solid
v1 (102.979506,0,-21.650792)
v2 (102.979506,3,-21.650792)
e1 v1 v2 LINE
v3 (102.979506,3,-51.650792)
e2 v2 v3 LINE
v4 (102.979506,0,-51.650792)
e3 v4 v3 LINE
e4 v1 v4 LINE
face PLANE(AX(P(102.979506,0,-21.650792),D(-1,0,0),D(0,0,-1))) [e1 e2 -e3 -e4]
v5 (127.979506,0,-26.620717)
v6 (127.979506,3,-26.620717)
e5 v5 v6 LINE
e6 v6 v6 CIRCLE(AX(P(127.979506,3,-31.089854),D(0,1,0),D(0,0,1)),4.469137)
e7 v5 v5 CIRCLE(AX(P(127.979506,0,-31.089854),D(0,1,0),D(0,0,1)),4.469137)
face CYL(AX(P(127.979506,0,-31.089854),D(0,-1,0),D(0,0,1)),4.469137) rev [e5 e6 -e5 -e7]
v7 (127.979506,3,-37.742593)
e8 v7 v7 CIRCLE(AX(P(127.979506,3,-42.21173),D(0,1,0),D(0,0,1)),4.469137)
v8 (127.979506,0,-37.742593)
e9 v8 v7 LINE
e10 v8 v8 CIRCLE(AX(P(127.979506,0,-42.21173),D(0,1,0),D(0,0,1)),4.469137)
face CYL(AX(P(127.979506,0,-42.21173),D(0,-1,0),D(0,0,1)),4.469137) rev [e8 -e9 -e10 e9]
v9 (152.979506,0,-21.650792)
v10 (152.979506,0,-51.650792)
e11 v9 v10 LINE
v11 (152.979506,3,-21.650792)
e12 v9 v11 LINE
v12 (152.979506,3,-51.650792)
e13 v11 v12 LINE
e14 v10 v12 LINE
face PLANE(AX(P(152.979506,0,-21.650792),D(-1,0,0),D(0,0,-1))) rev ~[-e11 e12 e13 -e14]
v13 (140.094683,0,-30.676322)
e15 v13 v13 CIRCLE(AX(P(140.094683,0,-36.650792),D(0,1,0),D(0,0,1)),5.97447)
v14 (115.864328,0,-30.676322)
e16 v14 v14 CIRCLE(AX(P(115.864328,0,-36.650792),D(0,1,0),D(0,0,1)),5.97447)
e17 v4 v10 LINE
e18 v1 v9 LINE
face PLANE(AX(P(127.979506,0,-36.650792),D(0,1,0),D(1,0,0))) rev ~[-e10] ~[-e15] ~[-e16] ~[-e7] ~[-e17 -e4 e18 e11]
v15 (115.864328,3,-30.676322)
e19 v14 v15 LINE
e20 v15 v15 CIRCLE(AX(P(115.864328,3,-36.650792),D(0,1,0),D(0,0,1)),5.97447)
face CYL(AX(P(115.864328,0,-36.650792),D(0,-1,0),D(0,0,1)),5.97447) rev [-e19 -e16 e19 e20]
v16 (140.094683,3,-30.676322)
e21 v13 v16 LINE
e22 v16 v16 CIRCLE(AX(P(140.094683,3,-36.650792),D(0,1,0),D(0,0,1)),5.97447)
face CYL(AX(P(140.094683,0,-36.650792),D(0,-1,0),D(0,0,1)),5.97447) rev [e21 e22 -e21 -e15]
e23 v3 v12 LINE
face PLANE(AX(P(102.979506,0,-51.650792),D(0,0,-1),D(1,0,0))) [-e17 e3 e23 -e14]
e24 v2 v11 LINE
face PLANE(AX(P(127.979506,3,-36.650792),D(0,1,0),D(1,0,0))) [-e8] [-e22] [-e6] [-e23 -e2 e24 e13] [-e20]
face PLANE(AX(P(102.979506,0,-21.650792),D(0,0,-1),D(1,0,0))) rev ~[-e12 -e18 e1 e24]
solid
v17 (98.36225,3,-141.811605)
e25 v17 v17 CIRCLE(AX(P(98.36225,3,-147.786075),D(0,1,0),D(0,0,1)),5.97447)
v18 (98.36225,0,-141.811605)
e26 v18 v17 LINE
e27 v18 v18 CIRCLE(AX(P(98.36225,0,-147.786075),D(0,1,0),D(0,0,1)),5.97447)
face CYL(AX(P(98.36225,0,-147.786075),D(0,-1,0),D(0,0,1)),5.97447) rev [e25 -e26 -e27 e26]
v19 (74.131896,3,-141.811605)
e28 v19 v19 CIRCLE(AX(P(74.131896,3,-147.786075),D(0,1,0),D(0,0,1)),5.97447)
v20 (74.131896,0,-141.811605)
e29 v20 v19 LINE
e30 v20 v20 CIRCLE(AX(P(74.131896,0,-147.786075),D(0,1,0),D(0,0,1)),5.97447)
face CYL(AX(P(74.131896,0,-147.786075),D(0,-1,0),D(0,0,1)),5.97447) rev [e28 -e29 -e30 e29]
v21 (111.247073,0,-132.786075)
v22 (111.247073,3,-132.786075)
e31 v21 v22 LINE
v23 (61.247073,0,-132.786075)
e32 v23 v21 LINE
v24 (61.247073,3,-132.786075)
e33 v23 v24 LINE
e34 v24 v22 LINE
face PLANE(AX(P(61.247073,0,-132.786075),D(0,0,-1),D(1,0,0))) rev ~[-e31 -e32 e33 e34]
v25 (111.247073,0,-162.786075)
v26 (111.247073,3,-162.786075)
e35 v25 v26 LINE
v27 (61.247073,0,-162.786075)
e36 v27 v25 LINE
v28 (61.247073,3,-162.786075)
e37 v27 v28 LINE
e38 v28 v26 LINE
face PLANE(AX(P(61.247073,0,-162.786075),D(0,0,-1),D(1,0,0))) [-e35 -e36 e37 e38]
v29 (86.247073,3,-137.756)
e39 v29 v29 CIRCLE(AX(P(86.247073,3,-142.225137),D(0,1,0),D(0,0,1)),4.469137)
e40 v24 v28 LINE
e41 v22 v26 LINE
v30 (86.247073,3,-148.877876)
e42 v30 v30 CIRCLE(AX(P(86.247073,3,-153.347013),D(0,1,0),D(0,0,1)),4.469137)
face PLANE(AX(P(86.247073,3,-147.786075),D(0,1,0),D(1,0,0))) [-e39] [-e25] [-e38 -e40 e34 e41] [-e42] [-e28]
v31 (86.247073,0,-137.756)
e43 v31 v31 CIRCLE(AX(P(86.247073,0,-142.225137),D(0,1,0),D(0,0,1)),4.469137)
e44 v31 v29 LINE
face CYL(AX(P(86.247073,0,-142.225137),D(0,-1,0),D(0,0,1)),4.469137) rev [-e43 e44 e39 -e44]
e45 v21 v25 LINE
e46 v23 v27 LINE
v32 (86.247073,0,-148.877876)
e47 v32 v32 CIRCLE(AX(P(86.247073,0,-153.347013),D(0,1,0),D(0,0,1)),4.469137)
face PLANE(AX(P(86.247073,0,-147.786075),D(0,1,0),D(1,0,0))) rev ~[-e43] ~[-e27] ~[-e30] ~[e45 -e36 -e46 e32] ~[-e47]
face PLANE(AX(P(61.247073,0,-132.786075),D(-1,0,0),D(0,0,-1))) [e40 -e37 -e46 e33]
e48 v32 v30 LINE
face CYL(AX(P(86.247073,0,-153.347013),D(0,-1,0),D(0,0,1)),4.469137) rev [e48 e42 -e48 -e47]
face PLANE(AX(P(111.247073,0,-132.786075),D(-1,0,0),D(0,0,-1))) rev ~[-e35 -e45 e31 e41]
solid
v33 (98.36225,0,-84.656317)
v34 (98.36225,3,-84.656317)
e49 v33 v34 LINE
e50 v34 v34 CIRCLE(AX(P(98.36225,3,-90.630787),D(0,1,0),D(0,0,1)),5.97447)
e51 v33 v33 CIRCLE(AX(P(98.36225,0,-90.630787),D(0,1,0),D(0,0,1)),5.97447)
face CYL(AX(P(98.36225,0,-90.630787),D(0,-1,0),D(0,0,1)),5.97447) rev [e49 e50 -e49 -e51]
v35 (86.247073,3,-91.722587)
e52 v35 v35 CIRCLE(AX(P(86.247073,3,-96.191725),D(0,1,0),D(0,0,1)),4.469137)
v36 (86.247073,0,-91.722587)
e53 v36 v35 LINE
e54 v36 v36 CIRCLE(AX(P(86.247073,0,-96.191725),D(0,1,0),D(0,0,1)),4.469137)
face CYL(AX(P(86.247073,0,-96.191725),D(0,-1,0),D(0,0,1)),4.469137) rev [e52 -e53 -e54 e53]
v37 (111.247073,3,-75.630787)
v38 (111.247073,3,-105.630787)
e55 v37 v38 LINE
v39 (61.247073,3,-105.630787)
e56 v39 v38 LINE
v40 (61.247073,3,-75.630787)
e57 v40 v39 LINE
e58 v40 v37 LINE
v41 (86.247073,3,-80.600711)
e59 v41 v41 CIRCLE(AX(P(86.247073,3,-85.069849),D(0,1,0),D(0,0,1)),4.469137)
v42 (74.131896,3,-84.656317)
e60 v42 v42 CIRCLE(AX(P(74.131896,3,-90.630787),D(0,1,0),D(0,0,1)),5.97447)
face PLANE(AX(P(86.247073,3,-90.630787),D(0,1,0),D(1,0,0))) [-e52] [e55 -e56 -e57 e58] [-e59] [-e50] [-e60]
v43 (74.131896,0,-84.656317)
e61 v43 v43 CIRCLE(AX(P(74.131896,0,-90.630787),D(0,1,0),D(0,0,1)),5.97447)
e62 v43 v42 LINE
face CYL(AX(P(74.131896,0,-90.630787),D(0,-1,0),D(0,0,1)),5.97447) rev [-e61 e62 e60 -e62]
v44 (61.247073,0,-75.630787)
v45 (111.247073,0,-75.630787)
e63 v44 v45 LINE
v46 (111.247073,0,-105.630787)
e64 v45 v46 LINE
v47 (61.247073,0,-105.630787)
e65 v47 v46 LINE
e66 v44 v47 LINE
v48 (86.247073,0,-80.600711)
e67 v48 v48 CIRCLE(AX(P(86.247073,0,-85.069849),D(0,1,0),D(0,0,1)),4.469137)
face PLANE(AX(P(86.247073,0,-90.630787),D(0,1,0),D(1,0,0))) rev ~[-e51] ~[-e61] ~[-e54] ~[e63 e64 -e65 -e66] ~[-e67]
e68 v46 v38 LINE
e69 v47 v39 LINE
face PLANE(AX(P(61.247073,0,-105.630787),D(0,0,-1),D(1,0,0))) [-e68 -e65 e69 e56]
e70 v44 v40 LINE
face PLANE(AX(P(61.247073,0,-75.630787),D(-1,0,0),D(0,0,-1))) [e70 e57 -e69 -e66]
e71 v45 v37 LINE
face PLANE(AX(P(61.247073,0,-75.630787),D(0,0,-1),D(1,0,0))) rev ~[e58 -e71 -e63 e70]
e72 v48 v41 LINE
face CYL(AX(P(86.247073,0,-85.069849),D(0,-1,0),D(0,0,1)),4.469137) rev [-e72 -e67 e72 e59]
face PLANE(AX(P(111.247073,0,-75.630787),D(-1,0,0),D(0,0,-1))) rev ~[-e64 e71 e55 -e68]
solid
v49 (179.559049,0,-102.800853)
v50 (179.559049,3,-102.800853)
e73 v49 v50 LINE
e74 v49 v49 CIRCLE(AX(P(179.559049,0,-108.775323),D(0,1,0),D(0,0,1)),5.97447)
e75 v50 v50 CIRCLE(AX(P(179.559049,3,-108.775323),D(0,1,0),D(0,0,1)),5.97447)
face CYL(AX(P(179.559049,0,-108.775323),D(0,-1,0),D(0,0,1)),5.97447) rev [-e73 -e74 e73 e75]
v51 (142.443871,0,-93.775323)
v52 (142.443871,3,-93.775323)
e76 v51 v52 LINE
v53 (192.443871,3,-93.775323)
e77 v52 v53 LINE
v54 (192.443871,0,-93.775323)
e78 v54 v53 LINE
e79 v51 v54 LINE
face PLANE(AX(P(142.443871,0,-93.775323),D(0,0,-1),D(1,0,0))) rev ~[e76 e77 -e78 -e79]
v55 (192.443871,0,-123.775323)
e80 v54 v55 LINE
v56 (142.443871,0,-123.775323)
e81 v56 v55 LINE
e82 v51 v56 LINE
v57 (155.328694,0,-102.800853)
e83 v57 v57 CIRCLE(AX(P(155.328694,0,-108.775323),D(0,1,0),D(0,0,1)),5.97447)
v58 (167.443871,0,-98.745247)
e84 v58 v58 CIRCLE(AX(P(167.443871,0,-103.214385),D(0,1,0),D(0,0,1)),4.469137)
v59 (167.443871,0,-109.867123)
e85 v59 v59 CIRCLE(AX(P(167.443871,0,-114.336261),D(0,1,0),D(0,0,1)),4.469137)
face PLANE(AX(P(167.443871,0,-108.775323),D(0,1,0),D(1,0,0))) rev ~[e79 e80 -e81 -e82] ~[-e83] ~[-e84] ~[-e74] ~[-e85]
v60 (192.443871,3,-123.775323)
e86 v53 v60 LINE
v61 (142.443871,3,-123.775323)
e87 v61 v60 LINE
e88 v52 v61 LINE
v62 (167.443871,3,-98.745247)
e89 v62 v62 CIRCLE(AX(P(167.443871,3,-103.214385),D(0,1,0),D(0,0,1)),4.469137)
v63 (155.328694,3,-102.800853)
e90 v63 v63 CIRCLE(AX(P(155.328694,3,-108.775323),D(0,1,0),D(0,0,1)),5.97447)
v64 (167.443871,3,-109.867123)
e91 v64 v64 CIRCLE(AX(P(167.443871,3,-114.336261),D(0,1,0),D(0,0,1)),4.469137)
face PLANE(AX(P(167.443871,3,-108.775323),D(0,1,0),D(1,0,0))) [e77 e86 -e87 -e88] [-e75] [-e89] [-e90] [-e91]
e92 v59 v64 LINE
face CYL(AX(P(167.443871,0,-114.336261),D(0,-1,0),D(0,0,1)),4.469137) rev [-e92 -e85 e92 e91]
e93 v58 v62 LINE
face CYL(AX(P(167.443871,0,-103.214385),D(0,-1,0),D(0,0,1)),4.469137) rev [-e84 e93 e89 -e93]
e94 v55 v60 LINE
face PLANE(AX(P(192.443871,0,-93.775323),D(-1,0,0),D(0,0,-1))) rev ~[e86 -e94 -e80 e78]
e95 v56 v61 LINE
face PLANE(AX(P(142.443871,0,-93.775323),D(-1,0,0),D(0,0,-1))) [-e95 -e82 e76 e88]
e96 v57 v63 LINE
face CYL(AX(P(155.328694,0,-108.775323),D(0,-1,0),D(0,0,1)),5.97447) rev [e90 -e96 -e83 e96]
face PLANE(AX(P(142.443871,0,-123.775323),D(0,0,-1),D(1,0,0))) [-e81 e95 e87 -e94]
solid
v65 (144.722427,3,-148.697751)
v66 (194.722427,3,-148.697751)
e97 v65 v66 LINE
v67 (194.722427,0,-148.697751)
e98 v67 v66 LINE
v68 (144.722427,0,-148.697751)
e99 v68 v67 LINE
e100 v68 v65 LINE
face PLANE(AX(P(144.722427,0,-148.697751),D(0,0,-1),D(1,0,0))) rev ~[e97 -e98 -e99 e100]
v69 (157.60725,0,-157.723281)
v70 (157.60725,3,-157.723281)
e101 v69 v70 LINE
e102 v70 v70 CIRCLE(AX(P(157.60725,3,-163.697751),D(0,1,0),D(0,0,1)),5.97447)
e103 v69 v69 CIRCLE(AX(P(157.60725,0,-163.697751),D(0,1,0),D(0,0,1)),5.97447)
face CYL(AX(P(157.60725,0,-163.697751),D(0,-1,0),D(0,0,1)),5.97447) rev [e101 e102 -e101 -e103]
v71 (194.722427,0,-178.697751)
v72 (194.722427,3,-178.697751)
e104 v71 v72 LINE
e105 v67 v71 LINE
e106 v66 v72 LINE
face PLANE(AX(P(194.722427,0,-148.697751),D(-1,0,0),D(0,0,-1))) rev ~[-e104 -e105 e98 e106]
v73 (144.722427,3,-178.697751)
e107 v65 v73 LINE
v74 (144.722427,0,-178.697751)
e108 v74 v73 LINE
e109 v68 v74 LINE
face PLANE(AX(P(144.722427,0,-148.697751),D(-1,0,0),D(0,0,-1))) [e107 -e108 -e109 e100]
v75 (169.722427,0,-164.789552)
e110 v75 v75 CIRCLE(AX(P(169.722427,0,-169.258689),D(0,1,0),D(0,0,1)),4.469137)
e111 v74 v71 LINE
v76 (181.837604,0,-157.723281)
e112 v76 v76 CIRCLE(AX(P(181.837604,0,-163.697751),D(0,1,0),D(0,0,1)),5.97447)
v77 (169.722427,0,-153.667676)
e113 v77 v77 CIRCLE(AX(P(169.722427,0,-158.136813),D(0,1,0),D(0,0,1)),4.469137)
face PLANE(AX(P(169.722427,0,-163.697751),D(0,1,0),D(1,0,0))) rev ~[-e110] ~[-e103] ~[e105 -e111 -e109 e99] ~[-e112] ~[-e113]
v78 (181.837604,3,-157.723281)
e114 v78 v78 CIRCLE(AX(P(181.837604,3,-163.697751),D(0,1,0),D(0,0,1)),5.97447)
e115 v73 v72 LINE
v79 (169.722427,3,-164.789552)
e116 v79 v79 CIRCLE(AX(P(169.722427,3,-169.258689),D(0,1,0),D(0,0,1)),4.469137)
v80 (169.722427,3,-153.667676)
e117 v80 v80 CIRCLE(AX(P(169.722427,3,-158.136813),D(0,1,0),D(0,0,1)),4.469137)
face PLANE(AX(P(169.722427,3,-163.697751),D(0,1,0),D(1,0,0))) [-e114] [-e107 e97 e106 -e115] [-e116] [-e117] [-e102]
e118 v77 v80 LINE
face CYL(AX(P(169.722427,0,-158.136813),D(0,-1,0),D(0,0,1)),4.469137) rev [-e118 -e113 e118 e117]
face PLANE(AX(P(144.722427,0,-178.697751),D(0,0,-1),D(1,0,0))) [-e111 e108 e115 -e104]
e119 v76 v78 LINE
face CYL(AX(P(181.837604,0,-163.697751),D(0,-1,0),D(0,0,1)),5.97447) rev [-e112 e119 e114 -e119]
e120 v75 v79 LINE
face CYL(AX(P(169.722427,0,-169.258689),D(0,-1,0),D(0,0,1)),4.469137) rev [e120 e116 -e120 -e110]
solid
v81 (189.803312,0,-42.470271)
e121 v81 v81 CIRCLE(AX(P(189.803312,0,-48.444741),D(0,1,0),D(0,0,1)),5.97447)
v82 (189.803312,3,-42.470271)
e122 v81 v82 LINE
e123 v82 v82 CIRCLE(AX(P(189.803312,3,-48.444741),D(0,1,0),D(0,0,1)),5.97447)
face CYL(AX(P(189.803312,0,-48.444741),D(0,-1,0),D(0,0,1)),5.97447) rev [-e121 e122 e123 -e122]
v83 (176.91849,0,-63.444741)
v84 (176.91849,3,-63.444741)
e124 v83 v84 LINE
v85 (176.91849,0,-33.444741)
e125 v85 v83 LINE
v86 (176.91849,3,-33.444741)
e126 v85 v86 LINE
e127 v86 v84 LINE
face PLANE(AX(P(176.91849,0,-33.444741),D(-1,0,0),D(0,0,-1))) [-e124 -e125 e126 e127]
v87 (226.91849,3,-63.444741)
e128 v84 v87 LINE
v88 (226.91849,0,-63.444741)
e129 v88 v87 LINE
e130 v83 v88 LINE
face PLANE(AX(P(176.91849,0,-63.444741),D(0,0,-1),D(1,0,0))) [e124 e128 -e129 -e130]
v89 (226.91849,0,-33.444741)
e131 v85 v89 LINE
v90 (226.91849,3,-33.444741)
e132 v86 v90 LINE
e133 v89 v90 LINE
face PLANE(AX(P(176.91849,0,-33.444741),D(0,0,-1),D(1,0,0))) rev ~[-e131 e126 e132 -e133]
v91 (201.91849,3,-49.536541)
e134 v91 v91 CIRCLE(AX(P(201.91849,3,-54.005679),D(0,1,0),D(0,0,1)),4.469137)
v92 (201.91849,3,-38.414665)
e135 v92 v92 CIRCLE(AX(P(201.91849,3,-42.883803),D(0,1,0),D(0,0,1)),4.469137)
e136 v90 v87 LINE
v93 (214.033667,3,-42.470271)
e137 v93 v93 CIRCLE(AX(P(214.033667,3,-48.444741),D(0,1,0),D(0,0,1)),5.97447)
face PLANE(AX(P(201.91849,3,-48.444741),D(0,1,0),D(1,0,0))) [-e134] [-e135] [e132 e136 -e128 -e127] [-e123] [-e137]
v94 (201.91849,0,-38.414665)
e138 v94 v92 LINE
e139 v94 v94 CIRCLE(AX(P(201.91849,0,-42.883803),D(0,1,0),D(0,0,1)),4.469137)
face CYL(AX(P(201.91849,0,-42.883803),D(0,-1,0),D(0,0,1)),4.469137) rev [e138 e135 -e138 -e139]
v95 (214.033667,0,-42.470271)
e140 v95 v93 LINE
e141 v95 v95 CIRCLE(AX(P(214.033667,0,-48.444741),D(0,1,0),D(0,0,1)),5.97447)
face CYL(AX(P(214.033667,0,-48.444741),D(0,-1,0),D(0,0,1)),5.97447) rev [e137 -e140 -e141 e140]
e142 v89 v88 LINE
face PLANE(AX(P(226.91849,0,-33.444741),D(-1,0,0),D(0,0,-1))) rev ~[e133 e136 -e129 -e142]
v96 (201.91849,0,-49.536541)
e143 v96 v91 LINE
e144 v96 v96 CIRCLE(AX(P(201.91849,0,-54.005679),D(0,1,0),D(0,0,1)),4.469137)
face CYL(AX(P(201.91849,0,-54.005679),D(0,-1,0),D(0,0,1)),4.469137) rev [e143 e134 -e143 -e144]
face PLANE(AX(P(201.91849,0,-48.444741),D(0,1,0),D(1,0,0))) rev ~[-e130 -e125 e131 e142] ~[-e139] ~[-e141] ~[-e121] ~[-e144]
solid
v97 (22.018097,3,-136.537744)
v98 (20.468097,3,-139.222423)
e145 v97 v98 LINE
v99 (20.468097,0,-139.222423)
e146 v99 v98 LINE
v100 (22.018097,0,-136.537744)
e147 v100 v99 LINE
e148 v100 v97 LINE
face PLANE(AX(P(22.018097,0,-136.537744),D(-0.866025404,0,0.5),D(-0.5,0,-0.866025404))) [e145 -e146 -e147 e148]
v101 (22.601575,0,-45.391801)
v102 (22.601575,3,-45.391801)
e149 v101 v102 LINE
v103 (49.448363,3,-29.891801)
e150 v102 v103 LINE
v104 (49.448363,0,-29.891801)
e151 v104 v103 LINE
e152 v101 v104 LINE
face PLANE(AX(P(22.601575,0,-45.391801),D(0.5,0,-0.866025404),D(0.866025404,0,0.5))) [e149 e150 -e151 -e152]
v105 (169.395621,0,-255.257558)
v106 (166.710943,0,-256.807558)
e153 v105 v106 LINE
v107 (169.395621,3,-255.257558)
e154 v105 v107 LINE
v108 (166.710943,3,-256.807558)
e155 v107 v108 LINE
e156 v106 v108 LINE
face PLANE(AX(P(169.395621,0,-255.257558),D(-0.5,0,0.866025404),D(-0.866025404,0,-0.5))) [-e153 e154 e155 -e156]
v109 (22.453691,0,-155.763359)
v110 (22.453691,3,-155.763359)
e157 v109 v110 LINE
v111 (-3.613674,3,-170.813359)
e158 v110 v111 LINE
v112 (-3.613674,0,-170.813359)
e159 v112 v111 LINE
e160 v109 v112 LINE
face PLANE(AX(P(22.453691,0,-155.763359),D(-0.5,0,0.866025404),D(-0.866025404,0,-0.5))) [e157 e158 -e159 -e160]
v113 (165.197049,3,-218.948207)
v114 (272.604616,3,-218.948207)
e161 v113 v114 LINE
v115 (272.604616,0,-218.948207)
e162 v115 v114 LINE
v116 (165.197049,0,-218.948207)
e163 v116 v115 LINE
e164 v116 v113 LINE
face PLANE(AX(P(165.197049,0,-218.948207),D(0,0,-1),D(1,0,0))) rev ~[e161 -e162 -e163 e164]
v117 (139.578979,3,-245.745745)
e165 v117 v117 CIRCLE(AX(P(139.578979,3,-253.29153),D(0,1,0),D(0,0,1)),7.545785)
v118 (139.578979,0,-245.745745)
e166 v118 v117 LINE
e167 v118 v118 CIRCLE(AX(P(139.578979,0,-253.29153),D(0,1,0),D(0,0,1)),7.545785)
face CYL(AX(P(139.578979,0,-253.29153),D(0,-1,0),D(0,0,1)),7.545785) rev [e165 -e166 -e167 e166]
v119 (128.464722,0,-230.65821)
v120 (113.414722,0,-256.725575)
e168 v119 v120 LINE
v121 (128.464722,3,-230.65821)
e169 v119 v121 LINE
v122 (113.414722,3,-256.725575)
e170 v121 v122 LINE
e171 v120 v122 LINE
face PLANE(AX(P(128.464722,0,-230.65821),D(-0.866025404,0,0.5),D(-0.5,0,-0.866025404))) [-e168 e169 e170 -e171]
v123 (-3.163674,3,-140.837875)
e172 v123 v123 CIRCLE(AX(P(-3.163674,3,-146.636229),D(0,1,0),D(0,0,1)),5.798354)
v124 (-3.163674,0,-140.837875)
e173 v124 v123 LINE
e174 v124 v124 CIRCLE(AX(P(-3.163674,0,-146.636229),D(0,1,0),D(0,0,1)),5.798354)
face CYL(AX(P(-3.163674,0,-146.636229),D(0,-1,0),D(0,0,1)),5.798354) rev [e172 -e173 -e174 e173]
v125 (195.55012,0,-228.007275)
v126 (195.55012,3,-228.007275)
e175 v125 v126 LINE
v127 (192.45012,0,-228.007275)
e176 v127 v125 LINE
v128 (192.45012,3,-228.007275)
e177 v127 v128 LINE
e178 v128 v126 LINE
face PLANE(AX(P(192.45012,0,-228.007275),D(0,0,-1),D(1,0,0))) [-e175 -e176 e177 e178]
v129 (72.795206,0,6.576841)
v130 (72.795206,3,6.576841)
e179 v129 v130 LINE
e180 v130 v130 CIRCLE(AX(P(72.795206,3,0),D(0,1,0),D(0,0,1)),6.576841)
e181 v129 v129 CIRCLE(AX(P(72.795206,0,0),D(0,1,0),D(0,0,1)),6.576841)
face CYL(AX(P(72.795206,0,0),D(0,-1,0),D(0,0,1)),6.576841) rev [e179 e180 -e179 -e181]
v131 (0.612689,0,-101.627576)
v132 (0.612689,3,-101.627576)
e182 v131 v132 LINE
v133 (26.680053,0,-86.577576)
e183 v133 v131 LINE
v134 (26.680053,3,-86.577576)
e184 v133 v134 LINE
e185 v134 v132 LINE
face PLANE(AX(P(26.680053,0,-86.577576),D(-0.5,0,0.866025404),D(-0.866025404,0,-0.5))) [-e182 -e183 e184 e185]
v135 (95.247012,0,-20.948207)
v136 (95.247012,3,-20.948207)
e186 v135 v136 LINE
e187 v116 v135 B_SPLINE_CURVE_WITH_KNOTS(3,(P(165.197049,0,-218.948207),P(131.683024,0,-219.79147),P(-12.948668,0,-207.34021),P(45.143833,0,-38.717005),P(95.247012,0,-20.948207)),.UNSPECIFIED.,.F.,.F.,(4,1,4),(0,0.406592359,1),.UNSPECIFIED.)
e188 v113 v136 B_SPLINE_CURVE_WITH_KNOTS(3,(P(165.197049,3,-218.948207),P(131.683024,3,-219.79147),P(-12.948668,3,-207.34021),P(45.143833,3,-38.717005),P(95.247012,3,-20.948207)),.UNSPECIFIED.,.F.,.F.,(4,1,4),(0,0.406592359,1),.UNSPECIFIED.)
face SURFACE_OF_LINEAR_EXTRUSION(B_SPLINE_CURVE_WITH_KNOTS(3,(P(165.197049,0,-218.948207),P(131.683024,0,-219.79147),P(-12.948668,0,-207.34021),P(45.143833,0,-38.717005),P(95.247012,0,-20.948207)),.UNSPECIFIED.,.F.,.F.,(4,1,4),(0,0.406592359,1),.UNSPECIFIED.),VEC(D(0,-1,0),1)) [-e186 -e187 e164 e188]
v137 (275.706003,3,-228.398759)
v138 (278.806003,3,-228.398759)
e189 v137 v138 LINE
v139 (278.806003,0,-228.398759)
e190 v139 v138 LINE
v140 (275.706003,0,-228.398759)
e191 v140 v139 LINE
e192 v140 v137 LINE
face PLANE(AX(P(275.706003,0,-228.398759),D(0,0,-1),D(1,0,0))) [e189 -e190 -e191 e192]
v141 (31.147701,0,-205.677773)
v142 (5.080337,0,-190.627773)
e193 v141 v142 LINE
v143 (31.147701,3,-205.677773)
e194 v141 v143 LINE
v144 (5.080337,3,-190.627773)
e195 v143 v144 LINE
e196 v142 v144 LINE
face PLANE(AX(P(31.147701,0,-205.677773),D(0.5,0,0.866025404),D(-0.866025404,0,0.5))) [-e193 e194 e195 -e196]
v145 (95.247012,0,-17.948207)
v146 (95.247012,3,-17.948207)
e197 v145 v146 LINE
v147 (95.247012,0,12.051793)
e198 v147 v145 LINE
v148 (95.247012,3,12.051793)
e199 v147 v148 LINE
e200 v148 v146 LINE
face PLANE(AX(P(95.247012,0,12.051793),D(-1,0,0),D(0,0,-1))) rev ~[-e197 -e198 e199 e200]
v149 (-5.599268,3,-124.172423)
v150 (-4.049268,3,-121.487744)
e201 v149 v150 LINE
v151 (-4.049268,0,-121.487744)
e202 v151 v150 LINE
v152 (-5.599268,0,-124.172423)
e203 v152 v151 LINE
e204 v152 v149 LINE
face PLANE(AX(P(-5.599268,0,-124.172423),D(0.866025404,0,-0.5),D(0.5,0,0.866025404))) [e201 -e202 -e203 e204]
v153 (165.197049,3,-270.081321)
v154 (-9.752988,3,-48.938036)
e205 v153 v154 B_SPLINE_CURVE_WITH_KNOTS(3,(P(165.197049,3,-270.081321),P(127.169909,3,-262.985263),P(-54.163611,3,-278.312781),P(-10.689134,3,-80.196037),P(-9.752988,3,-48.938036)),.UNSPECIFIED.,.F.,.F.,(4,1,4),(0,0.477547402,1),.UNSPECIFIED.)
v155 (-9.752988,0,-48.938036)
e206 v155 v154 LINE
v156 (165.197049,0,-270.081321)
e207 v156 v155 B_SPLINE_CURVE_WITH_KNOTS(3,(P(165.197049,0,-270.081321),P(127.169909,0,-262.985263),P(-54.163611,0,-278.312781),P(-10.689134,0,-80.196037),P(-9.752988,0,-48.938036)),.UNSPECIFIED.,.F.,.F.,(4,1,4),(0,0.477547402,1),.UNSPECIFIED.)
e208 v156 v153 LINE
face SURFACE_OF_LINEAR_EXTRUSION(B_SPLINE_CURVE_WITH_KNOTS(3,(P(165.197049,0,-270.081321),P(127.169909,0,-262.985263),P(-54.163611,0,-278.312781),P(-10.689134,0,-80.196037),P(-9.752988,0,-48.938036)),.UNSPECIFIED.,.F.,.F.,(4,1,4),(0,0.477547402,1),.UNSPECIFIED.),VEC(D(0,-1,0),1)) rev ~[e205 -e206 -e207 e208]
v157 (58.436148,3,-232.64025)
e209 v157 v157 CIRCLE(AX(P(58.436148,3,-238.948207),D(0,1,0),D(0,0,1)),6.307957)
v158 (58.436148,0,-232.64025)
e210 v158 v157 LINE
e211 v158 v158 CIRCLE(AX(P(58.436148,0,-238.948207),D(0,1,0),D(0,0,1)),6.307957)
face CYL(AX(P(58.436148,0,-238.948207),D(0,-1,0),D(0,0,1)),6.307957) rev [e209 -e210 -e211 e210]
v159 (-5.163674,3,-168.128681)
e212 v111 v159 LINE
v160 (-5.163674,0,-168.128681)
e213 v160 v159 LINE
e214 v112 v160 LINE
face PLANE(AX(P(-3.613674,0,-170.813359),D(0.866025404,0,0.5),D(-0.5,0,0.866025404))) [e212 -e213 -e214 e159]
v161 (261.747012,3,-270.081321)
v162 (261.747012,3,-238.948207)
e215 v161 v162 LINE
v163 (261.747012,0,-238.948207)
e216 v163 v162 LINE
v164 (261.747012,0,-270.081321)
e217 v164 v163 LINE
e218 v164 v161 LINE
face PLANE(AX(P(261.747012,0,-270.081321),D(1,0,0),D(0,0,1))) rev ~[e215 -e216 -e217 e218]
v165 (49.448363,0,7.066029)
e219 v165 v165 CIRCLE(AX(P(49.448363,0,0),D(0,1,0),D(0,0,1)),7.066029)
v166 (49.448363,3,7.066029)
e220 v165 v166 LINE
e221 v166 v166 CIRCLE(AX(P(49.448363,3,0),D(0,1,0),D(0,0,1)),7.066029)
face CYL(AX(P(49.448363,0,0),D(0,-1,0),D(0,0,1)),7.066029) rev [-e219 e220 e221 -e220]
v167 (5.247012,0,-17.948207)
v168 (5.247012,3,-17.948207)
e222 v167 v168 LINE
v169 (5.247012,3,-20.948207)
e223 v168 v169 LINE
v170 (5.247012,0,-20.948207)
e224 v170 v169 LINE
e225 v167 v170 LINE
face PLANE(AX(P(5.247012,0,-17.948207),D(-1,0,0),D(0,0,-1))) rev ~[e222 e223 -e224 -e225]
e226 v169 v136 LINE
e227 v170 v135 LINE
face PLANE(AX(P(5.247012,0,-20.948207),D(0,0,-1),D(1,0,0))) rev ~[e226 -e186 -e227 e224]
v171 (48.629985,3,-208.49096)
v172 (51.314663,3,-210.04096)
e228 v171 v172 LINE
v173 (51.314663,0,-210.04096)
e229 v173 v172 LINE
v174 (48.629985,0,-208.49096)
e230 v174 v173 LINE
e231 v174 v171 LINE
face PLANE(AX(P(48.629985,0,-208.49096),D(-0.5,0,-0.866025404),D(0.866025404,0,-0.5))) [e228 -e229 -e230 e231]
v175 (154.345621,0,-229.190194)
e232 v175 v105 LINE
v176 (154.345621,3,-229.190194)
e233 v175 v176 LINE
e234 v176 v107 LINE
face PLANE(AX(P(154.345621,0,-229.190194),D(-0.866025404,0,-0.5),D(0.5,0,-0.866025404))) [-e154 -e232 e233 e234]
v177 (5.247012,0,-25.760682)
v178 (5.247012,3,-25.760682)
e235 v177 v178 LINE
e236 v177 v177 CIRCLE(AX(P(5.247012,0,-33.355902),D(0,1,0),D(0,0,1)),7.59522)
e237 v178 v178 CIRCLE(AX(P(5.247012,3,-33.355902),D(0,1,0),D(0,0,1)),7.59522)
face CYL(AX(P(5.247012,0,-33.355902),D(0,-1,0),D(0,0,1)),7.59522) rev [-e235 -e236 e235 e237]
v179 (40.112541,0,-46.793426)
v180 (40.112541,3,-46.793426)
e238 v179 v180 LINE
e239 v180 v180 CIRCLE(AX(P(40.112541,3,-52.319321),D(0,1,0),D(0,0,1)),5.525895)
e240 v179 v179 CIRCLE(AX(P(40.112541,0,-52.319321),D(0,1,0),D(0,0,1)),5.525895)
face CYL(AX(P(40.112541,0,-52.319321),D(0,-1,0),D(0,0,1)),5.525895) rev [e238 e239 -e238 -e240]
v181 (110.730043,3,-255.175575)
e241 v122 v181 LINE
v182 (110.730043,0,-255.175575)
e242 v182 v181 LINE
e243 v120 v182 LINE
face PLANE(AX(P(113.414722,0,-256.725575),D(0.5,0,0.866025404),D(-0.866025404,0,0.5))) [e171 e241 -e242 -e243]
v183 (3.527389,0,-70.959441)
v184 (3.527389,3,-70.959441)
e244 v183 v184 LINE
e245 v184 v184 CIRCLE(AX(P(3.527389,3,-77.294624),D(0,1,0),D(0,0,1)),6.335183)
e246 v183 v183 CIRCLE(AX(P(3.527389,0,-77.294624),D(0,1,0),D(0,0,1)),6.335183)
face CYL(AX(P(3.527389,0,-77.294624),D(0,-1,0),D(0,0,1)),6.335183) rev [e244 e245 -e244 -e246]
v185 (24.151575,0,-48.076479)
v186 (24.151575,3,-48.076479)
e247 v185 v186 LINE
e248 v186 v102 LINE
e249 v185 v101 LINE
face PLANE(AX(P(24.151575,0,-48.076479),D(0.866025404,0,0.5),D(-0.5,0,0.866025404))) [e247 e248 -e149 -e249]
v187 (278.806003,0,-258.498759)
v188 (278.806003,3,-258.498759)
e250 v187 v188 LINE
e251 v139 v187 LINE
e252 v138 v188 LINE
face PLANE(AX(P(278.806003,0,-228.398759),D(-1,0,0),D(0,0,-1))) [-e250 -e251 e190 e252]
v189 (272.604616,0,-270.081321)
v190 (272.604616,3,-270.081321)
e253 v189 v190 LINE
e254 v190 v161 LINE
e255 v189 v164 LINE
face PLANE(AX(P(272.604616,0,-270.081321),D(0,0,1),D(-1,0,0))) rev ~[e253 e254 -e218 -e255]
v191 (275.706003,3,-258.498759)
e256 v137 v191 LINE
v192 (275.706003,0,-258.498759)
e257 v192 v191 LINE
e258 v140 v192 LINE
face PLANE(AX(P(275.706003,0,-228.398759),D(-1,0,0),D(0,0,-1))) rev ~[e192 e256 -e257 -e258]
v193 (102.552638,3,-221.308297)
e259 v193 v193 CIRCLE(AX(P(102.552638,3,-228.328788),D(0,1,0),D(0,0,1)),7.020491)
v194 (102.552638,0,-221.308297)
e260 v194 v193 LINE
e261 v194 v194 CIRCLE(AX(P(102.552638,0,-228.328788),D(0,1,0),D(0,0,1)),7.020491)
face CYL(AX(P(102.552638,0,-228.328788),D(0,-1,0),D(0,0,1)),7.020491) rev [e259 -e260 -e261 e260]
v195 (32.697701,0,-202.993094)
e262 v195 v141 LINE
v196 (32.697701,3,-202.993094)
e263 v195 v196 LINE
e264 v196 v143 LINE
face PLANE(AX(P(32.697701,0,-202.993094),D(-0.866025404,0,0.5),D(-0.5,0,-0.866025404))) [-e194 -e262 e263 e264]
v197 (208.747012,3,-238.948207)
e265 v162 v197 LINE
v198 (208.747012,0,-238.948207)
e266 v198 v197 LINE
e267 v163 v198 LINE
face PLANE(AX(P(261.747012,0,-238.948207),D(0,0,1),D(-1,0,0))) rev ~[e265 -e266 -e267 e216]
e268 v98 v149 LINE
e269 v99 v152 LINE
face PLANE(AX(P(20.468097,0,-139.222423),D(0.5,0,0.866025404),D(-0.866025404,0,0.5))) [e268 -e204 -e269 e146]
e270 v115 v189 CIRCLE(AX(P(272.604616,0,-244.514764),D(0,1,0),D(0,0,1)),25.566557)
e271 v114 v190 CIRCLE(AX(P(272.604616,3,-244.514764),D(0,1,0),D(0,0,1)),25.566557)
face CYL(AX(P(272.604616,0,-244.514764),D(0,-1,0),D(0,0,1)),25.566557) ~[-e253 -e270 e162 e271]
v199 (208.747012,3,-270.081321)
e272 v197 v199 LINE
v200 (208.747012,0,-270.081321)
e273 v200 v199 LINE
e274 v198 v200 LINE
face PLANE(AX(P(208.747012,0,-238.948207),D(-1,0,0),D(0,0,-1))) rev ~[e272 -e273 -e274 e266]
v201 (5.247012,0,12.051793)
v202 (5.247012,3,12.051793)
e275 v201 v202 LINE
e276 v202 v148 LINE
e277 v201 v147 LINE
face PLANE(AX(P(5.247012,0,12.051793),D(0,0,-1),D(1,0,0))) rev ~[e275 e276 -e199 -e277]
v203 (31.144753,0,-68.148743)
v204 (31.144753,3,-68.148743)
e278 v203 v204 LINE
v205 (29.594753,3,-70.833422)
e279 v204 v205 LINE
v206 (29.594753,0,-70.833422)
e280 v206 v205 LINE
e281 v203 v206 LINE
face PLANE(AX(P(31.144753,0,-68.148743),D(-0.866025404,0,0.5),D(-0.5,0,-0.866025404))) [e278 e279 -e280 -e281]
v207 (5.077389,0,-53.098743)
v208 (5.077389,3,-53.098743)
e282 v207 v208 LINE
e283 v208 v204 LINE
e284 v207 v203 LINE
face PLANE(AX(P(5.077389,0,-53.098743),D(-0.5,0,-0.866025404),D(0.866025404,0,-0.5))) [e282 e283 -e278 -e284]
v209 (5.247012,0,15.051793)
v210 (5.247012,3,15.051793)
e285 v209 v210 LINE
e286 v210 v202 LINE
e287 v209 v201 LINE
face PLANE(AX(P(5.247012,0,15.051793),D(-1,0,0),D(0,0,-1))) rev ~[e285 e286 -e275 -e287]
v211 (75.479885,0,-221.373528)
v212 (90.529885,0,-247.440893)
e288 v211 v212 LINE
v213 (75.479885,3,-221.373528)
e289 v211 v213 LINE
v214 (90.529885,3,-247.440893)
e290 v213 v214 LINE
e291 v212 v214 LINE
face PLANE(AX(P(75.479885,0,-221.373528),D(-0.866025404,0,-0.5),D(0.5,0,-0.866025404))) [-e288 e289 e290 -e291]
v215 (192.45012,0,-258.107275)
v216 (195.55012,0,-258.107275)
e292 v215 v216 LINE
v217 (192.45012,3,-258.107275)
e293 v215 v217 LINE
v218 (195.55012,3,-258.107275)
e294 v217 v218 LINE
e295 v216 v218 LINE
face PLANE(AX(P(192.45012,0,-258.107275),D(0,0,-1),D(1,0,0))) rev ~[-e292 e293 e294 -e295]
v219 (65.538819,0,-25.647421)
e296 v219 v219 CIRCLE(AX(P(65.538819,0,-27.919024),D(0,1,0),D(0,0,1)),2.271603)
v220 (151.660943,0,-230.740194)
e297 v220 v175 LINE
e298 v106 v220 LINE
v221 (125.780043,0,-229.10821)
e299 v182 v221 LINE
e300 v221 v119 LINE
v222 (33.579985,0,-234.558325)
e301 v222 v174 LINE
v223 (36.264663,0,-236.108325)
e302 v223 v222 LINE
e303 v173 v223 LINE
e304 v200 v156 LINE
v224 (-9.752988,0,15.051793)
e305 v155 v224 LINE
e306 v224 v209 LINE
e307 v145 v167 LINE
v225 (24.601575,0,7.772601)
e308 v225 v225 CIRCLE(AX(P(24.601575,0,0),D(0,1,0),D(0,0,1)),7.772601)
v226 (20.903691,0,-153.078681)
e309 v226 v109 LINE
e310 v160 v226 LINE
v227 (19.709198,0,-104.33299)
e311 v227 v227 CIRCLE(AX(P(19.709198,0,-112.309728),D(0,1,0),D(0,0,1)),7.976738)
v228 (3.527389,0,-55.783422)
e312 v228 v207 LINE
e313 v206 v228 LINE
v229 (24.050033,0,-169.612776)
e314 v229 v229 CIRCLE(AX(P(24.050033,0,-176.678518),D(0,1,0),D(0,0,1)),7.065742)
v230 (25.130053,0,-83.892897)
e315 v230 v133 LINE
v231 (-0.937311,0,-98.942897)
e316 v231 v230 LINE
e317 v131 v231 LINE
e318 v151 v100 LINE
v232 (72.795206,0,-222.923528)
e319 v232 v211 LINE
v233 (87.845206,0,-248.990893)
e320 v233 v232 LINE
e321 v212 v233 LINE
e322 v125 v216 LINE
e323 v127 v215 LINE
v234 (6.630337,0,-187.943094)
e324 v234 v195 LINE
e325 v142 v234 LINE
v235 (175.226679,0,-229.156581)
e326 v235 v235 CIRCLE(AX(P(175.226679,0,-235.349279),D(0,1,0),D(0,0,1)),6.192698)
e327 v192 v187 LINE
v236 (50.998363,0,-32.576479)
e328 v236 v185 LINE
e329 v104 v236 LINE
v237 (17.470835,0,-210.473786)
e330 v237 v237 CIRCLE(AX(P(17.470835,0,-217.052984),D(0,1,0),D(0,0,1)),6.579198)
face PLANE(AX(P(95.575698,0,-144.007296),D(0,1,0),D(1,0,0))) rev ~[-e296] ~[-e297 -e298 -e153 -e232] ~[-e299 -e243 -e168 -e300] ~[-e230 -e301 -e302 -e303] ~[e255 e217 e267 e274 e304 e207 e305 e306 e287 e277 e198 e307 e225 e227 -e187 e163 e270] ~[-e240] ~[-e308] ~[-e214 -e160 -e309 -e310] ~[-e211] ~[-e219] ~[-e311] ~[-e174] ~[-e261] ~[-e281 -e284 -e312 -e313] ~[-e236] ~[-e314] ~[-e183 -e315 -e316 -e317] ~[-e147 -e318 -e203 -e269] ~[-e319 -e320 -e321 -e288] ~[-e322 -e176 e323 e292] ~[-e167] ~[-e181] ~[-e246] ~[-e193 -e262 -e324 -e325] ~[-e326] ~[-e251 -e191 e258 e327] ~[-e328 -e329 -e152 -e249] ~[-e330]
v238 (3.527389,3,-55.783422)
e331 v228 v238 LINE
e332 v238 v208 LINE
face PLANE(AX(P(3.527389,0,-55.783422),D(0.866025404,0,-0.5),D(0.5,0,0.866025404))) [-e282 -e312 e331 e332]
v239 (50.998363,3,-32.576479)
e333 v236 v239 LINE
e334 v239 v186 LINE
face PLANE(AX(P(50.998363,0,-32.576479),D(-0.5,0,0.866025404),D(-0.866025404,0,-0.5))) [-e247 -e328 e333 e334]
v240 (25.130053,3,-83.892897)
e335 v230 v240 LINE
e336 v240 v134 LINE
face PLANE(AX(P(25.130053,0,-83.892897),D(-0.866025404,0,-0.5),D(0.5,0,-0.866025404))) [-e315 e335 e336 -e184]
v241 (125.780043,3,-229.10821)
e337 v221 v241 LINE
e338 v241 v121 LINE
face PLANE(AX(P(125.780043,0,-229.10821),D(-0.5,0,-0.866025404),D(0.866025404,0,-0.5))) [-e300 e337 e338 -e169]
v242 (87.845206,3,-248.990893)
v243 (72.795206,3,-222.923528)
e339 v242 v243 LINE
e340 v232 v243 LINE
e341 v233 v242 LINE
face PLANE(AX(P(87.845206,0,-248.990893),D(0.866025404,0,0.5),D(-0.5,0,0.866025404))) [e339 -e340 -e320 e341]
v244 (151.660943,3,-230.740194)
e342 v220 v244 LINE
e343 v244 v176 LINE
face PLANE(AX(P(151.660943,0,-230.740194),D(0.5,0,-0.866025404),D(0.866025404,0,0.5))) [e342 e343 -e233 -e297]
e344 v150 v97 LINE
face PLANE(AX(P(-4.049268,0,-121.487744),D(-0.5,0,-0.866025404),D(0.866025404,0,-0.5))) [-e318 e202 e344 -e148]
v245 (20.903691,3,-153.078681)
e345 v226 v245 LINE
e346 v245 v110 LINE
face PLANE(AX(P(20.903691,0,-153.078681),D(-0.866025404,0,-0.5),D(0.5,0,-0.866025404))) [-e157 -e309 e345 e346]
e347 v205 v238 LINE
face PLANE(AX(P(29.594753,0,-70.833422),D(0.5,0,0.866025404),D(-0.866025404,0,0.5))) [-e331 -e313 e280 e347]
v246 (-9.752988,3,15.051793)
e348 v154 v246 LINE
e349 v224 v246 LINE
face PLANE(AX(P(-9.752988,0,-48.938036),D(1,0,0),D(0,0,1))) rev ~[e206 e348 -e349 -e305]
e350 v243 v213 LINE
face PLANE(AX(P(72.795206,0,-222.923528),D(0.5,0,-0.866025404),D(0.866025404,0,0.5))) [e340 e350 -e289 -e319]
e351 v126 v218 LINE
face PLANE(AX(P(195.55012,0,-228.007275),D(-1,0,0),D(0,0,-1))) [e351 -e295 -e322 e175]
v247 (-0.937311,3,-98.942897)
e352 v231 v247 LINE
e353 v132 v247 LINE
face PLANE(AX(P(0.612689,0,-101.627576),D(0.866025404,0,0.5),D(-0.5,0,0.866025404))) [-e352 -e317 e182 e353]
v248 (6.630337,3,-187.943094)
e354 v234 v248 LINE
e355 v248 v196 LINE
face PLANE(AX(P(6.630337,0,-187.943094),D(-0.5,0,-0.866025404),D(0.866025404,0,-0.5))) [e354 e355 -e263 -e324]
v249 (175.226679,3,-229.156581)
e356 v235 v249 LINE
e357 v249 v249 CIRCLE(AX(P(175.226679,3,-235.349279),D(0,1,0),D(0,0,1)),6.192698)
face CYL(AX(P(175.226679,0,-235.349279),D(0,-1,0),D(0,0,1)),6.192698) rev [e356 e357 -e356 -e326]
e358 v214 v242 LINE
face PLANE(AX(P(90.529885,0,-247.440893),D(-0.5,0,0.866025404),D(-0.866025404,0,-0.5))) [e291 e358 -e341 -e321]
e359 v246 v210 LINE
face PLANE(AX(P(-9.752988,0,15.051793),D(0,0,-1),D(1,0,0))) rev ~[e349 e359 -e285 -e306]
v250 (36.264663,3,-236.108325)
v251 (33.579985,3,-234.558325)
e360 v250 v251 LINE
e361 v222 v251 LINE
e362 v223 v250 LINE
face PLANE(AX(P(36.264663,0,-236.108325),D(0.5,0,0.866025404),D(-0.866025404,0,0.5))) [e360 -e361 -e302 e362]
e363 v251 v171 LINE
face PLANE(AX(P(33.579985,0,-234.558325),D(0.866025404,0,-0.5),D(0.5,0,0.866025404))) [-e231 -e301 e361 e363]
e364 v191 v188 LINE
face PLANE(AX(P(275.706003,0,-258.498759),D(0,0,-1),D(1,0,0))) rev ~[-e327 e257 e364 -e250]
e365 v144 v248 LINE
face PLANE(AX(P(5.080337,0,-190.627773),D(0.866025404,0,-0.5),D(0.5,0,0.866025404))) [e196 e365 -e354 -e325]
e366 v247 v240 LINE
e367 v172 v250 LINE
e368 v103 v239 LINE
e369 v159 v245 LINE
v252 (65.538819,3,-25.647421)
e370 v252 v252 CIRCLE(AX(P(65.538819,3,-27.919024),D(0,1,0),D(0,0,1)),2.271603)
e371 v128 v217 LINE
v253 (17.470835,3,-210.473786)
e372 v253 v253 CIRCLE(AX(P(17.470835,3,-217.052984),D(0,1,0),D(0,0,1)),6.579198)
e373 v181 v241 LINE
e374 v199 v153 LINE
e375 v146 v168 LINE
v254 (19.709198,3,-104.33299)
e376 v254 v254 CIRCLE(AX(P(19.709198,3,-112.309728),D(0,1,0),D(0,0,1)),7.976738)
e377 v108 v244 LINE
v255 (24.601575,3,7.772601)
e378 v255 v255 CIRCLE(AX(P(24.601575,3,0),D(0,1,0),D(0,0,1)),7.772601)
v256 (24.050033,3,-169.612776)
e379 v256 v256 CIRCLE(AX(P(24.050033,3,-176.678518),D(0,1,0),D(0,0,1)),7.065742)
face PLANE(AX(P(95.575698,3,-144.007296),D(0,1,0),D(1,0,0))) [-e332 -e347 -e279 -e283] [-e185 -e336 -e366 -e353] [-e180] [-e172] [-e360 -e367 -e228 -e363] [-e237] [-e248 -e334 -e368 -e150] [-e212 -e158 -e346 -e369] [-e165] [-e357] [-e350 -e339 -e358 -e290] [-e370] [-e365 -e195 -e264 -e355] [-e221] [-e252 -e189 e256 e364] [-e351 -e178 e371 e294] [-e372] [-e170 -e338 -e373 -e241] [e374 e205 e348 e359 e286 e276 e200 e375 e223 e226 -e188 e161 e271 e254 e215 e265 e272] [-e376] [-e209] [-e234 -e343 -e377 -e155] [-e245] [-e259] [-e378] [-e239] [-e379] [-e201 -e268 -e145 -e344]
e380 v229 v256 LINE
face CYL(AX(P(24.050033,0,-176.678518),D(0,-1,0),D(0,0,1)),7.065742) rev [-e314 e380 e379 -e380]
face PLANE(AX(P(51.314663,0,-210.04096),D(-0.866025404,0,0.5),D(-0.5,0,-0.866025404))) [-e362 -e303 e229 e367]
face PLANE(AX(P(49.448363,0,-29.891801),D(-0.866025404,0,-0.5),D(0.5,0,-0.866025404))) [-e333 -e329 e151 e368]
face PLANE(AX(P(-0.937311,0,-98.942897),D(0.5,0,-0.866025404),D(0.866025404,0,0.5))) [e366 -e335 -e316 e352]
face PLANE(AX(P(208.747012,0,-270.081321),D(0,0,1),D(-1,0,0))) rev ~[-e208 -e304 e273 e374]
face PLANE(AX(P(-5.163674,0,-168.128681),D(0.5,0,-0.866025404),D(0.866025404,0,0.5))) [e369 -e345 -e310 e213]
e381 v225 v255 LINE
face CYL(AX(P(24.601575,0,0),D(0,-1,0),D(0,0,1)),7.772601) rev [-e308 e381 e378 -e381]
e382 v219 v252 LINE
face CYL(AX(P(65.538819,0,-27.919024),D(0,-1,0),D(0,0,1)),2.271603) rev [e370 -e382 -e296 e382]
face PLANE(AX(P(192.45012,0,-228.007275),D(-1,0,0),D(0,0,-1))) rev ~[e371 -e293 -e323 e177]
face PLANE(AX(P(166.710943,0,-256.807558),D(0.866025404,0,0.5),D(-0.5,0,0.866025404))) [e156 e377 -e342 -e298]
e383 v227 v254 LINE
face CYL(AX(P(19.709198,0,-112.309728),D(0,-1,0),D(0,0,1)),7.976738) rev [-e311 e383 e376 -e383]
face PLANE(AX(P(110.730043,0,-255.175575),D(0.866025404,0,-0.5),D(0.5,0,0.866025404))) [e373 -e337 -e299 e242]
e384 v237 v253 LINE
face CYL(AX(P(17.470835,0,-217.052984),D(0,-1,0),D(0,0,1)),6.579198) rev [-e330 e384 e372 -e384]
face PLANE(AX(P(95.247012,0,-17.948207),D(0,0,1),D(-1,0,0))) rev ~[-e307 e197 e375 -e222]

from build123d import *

# Parameters (mm, degrees)
SKETCH_1_R        = 6.307956791
SKETCH_1_R_2      = 7.020491009
SKETCH_1_R_3      = 7.54578466
SKETCH_1_R_4      = 6.192697753
SKETCH_1_R_5      = 6.579197905
SKETCH_1_R_6      = 7.065741655
SKETCH_1_R_7      = 5.798353608
SKETCH_1_R_8      = 7.976738003
SKETCH_1_R_9      = 6.335183218
SKETCH_1_R_10     = 5.525894517
SKETCH_1_R_11     = 7.595219817
SKETCH_1_R_12     = 6.576841008
SKETCH_1_R_13     = 7.772600683
SKETCH_1_R_14     = 7.066029441
SKETCH_1_R_15     = 2.271602558
SKETCH_1_W        = 3.1
SKETCH_1_H        = 30.1
EXTRUDE_1_DEPTH   = 3
SKETCH_1_W_2      = 50
SKETCH_1_H_2      = 30
SKETCH_1_R_16     = 5.97446982
SKETCH_1_R_17     = 4.469137465
EXTRUDE_1_2_DEPTH = 3
EXTRUDE_1_3_DEPTH = 3
EXTRUDE_1_4_DEPTH = 3
EXTRUDE_1_5_DEPTH = 3
EXTRUDE_1_6_DEPTH = 3
EXTRUDE_1_7_DEPTH = 3


with BuildPart() as part:
    # 草图1 → 凸台-拉伸1 (new body)
    with BuildSketch(Plane(origin=(0, 0, 0), x_dir=(1, 0, 0), z_dir=(0, 1, 0))):
        with BuildLine():
            Line((5.247011952, -15.051792829), (5.247011952, -12.051792829))
            Line((5.247011952, -12.051792829), (95.247011952, -12.051792829))
            Line((95.247011952, -12.051792829), (95.247011952, 17.948207171))
            Line((95.247011952, 17.948207171), (5.247011952, 17.948207171))
            Line((5.247011952, 17.948207171), (5.247011952, 20.948207171))
            Line((5.247011952, 20.948207171), (55.247011952, 20.948207171))
            Line((55.247011952, 20.948207171), (95.247011952, 20.948207171))
            add(Edge.make_bspline(
                [(165.197049135, 218.948207171), (131.683023816, 219.791470419), (-12.948667628, 207.340209855), (45.143832663, 38.717004591), (95.247011952, 20.948207171)],
                knots=[0, 0, 0, 0, 0.406592359, 1, 1, 1, 1], degree=3))
            Line((165.197049135, 218.948207171), (208.747011952, 218.948207171))
            Line((208.747011952, 218.948207171), (261.747011952, 218.948207171))
            Line((261.747011952, 218.948207171), (272.60461602, 218.948207171))
            ThreePointArc((272.60461602, 218.948207171), (298.171172706, 244.514763857), (272.60461602, 270.081320543))
            Line((272.60461602, 270.081320543), (261.747011952, 270.081320543))
            Line((261.747011952, 270.081320543), (261.747011952, 238.948207171))
            Line((261.747011952, 238.948207171), (208.747011952, 238.948207171))
            Line((208.747011952, 238.948207171), (208.747011952, 270.081320543))
            Line((208.747011952, 270.081320543), (165.197049135, 270.081320543))
            add(Edge.make_bspline(
                [(165.197049135, 270.081320543), (127.169908769, 262.985262899), (-54.163610973, 278.312781016), (-10.68913353, 80.196037333), (-9.752988048, 48.938035839)],
                knots=[0, 0, 0, 0, 0.477547402, 1, 1, 1, 1], degree=3))
            Line((-9.752988048, 48.938035839), (-9.752988048, -15.051792829))
            Line((-9.752988048, -15.051792829), (5.247011952, -15.051792829))
        make_face()
        with Locations(Location((58.436147908, 238.948207171, 0), (0, 0, 270))):
            Circle(SKETCH_1_R, mode=Mode.SUBTRACT)
        with Locations(Location((102.552638427, 228.328787529, 0), (0, 0, 270))):
            Circle(SKETCH_1_R_2, mode=Mode.SUBTRACT)
        with Locations(Location((139.578978684, 253.291530078, 0), (0, 0, 270))):
            Circle(SKETCH_1_R_3, mode=Mode.SUBTRACT)
        with Locations(Location((175.226678611, 235.349278539, 0), (0, 0, 270))):
            Circle(SKETCH_1_R_4, mode=Mode.SUBTRACT)
        with Locations(Location((17.470835284, 217.052984295, 0), (0, 0, 270))):
            Circle(SKETCH_1_R_5, mode=Mode.SUBTRACT)
        with Locations(Location((24.050033189, 176.678517526, 0), (0, 0, 270))):
            Circle(SKETCH_1_R_6, mode=Mode.SUBTRACT)
        with Locations(Location((-3.16367364, 146.636228702, 0), (0, 0, 270))):
            Circle(SKETCH_1_R_7, mode=Mode.SUBTRACT)
        with Locations(Location((19.709197985, 112.309727874, 0), (0, 0, 270))):
            Circle(SKETCH_1_R_8, mode=Mode.SUBTRACT)
        with Locations(Location((3.52738854, 77.294623962, 0), (0, 0, 270))):
            Circle(SKETCH_1_R_9, mode=Mode.SUBTRACT)
        with Locations(Location((40.112540519, 52.319320603, 0), (0, 0, 270))):
            Circle(SKETCH_1_R_10, mode=Mode.SUBTRACT)
        with Locations(Location((5.247011952, 33.355902147, 0), (0, 0, 270))):
            Circle(SKETCH_1_R_11, mode=Mode.SUBTRACT)
        with Locations(Location((72.795206144, 0, 0), (0, 0, 270))):
            Circle(SKETCH_1_R_12, mode=Mode.SUBTRACT)
        with Locations(Location((24.601575374, 0, 0), (0, 0, 270))):
            Circle(SKETCH_1_R_13, mode=Mode.SUBTRACT)
        with Locations(Location((49.448362892, 0, 0), (0, 0, 270))):
            Circle(SKETCH_1_R_14, mode=Mode.SUBTRACT)
        with Locations(Location((65.53881945, 27.919023937, 0), (0, 0, 270))):
            Circle(SKETCH_1_R_15, mode=Mode.SUBTRACT)
        with Locations((194.000119697, 243.057275333)):
            Rectangle(SKETCH_1_W, SKETCH_1_H, mode=Mode.SUBTRACT)
        with Locations((277.256003407, 243.448758848)):
            Rectangle(SKETCH_1_W, SKETCH_1_H, mode=Mode.SUBTRACT)
        Polygon((169.395621339, 255.257558354), (166.710942587, 256.807558354), (151.660942587, 230.7401937), (154.345621339, 229.1901937), align=None, mode=Mode.SUBTRACT)
        Polygon((90.529884896, 247.44089309), (87.845206144, 248.99089309), (72.795206144, 222.923528436), (75.479884896, 221.373528436), align=None, mode=Mode.SUBTRACT)
        Polygon((113.414721713, 256.725575047), (110.730042961, 255.175575047), (125.780042961, 229.108210393), (128.464721713, 230.658210393), align=None, mode=Mode.SUBTRACT)
        Polygon((36.26466332, 236.10832497), (33.579984568, 234.55832497), (48.629984568, 208.490960316), (51.31466332, 210.040960316), align=None, mode=Mode.SUBTRACT)
        Polygon((0.612688539, 101.627575932), (-0.937311461, 98.94289718), (25.130053193, 83.89289718), (26.680053193, 86.577575932), align=None, mode=Mode.SUBTRACT)
        Polygon((-3.61367364, 170.813359438), (-5.16367364, 168.128680686), (20.903691014, 153.078680686), (22.453691014, 155.763359438), align=None, mode=Mode.SUBTRACT)
        Polygon((31.144753194, 68.148743467), (29.594753194, 70.833422219), (3.52738854, 55.783422219), (5.07738854, 53.098743467), align=None, mode=Mode.SUBTRACT)
        Polygon((22.018096677, 136.537744355), (20.468096677, 139.222423107), (-5.599267977, 124.172423107), (-4.049267977, 121.487744355), align=None, mode=Mode.SUBTRACT)
        Polygon((32.697701156, 202.993094468), (31.147701156, 205.677773219), (5.080336502, 190.627773219), (6.630336502, 187.943094468), align=None, mode=Mode.SUBTRACT)
        Polygon((24.151575374, 48.076479283), (22.601575374, 45.391800532), (49.448362892, 29.891800532), (50.998362892, 32.576479283), align=None, mode=Mode.SUBTRACT)
    extrude(amount=EXTRUDE_1_DEPTH)


with BuildPart() as body_2:
    # 草图1 → Extrude 1 2 (new body)
    with BuildSketch(Plane(origin=(0, 0, 0), x_dir=(1, 0, 0), z_dir=(0, 1, 0))):
        with Locations((169.722427014, 163.697751212)):
            Rectangle(SKETCH_1_W_2, SKETCH_1_H_2)
        with Locations(Location((181.837604454, 163.697751212, 0), (0, 0, 270))):
            Circle(SKETCH_1_R_16, mode=Mode.SUBTRACT)
        with Locations(Location((169.722427014, 169.258689113, 0), (0, 0, 270))):
            Circle(SKETCH_1_R_17, mode=Mode.SUBTRACT)
        with Locations(Location((157.607249574, 163.697751212, 0), (0, 0, 270))):
            Circle(SKETCH_1_R_16, mode=Mode.SUBTRACT)
        with Locations(Location((169.722427014, 158.136813312, 0), (0, 0, 270))):
            Circle(SKETCH_1_R_17, mode=Mode.SUBTRACT)
    extrude(amount=EXTRUDE_1_2_DEPTH)


with BuildPart() as body_3:
    # 草图1 → Extrude 1 3 (new body)
    with BuildSketch(Plane(origin=(0, 0, 0), x_dir=(1, 0, 0), z_dir=(0, 1, 0))):
        with Locations((167.443871431, 108.775322761)):
            Rectangle(SKETCH_1_W_2, SKETCH_1_H_2)
        with Locations(Location((179.559048871, 108.775322761, 0), (0, 0, 270))):
            Circle(SKETCH_1_R_16, mode=Mode.SUBTRACT)
        with Locations(Location((167.443871431, 114.336260661, 0), (0, 0, 270))):
            Circle(SKETCH_1_R_17, mode=Mode.SUBTRACT)
        with Locations(Location((155.32869399, 108.775322761, 0), (0, 0, 270))):
            Circle(SKETCH_1_R_16, mode=Mode.SUBTRACT)
        with Locations(Location((167.443871431, 103.21438486, 0), (0, 0, 270))):
            Circle(SKETCH_1_R_17, mode=Mode.SUBTRACT)
    extrude(amount=EXTRUDE_1_3_DEPTH)


with BuildPart() as body_4:
    # 草图1 → Extrude 1 4 (new body)
    with BuildSketch(Plane(origin=(0, 0, 0), x_dir=(1, 0, 0), z_dir=(0, 1, 0))):
        with Locations((86.247072985, 147.786075087)):
            Rectangle(SKETCH_1_W_2, SKETCH_1_H_2)
        with Locations(Location((98.362250425, 147.786075087, 0), (0, 0, 270))):
            Circle(SKETCH_1_R_16, mode=Mode.SUBTRACT)
        with Locations(Location((86.247072985, 153.347012988, 0), (0, 0, 270))):
            Circle(SKETCH_1_R_17, mode=Mode.SUBTRACT)
        with Locations(Location((74.131895544, 147.786075087, 0), (0, 0, 270))):
            Circle(SKETCH_1_R_16, mode=Mode.SUBTRACT)
        with Locations(Location((86.247072985, 142.225137186, 0), (0, 0, 270))):
            Circle(SKETCH_1_R_17, mode=Mode.SUBTRACT)
    extrude(amount=EXTRUDE_1_4_DEPTH)


with BuildPart() as body_5:
    # 草图1 → Extrude 1 5 (new body)
    with BuildSketch(Plane(origin=(0, 0, 0), x_dir=(1, 0, 0), z_dir=(0, 1, 0))):
        with Locations((86.247072985, 90.630786795)):
            Rectangle(SKETCH_1_W_2, SKETCH_1_H_2)
        with Locations(Location((98.362250425, 90.630786795, 0), (0, 0, 270))):
            Circle(SKETCH_1_R_16, mode=Mode.SUBTRACT)
        with Locations(Location((86.247072985, 96.191724696, 0), (0, 0, 270))):
            Circle(SKETCH_1_R_17, mode=Mode.SUBTRACT)
        with Locations(Location((74.131895544, 90.630786795, 0), (0, 0, 270))):
            Circle(SKETCH_1_R_16, mode=Mode.SUBTRACT)
        with Locations(Location((86.247072985, 85.069848894, 0), (0, 0, 270))):
            Circle(SKETCH_1_R_17, mode=Mode.SUBTRACT)
    extrude(amount=EXTRUDE_1_5_DEPTH)


with BuildPart() as body_6:
    # 草图1 → Extrude 1 6 (new body)
    with BuildSketch(Plane(origin=(0, 0, 0), x_dir=(1, 0, 0), z_dir=(0, 1, 0))):
        with Locations((127.979505706, 36.650792297)):
            Rectangle(SKETCH_1_W_2, SKETCH_1_H_2)
        with Locations(Location((140.094683146, 36.650792297, 0), (0, 0, 270))):
            Circle(SKETCH_1_R_16, mode=Mode.SUBTRACT)
        with Locations(Location((127.979505706, 42.211730198, 0), (0, 0, 270))):
            Circle(SKETCH_1_R_17, mode=Mode.SUBTRACT)
        with Locations(Location((115.864328265, 36.650792297, 0), (0, 0, 270))):
            Circle(SKETCH_1_R_16, mode=Mode.SUBTRACT)
        with Locations(Location((127.979505706, 31.089854397, 0), (0, 0, 270))):
            Circle(SKETCH_1_R_17, mode=Mode.SUBTRACT)
    extrude(amount=EXTRUDE_1_6_DEPTH)


with BuildPart() as body_7:
    # 草图1 → Extrude 1 7 (new body)
    with BuildSketch(Plane(origin=(0, 0, 0), x_dir=(1, 0, 0), z_dir=(0, 1, 0))):
        with Locations((201.918489765, 48.444740675)):
            Rectangle(SKETCH_1_W_2, SKETCH_1_H_2)
        with Locations(Location((214.033667206, 48.444740675, 0), (0, 0, 270))):
            Circle(SKETCH_1_R_16, mode=Mode.SUBTRACT)
        with Locations(Location((201.918489765, 54.005678576, 0), (0, 0, 270))):
            Circle(SKETCH_1_R_17, mode=Mode.SUBTRACT)
        with Locations(Location((189.803312325, 48.444740675, 0), (0, 0, 270))):
            Circle(SKETCH_1_R_16, mode=Mode.SUBTRACT)
        with Locations(Location((201.918489765, 42.883802774, 0), (0, 0, 270))):
            Circle(SKETCH_1_R_17, mode=Mode.SUBTRACT)
    extrude(amount=EXTRUDE_1_7_DEPTH)


solid = Compound([part.part, body_2.part, body_3.part, body_4.part, body_5.part, body_6.part, body_7.part])
